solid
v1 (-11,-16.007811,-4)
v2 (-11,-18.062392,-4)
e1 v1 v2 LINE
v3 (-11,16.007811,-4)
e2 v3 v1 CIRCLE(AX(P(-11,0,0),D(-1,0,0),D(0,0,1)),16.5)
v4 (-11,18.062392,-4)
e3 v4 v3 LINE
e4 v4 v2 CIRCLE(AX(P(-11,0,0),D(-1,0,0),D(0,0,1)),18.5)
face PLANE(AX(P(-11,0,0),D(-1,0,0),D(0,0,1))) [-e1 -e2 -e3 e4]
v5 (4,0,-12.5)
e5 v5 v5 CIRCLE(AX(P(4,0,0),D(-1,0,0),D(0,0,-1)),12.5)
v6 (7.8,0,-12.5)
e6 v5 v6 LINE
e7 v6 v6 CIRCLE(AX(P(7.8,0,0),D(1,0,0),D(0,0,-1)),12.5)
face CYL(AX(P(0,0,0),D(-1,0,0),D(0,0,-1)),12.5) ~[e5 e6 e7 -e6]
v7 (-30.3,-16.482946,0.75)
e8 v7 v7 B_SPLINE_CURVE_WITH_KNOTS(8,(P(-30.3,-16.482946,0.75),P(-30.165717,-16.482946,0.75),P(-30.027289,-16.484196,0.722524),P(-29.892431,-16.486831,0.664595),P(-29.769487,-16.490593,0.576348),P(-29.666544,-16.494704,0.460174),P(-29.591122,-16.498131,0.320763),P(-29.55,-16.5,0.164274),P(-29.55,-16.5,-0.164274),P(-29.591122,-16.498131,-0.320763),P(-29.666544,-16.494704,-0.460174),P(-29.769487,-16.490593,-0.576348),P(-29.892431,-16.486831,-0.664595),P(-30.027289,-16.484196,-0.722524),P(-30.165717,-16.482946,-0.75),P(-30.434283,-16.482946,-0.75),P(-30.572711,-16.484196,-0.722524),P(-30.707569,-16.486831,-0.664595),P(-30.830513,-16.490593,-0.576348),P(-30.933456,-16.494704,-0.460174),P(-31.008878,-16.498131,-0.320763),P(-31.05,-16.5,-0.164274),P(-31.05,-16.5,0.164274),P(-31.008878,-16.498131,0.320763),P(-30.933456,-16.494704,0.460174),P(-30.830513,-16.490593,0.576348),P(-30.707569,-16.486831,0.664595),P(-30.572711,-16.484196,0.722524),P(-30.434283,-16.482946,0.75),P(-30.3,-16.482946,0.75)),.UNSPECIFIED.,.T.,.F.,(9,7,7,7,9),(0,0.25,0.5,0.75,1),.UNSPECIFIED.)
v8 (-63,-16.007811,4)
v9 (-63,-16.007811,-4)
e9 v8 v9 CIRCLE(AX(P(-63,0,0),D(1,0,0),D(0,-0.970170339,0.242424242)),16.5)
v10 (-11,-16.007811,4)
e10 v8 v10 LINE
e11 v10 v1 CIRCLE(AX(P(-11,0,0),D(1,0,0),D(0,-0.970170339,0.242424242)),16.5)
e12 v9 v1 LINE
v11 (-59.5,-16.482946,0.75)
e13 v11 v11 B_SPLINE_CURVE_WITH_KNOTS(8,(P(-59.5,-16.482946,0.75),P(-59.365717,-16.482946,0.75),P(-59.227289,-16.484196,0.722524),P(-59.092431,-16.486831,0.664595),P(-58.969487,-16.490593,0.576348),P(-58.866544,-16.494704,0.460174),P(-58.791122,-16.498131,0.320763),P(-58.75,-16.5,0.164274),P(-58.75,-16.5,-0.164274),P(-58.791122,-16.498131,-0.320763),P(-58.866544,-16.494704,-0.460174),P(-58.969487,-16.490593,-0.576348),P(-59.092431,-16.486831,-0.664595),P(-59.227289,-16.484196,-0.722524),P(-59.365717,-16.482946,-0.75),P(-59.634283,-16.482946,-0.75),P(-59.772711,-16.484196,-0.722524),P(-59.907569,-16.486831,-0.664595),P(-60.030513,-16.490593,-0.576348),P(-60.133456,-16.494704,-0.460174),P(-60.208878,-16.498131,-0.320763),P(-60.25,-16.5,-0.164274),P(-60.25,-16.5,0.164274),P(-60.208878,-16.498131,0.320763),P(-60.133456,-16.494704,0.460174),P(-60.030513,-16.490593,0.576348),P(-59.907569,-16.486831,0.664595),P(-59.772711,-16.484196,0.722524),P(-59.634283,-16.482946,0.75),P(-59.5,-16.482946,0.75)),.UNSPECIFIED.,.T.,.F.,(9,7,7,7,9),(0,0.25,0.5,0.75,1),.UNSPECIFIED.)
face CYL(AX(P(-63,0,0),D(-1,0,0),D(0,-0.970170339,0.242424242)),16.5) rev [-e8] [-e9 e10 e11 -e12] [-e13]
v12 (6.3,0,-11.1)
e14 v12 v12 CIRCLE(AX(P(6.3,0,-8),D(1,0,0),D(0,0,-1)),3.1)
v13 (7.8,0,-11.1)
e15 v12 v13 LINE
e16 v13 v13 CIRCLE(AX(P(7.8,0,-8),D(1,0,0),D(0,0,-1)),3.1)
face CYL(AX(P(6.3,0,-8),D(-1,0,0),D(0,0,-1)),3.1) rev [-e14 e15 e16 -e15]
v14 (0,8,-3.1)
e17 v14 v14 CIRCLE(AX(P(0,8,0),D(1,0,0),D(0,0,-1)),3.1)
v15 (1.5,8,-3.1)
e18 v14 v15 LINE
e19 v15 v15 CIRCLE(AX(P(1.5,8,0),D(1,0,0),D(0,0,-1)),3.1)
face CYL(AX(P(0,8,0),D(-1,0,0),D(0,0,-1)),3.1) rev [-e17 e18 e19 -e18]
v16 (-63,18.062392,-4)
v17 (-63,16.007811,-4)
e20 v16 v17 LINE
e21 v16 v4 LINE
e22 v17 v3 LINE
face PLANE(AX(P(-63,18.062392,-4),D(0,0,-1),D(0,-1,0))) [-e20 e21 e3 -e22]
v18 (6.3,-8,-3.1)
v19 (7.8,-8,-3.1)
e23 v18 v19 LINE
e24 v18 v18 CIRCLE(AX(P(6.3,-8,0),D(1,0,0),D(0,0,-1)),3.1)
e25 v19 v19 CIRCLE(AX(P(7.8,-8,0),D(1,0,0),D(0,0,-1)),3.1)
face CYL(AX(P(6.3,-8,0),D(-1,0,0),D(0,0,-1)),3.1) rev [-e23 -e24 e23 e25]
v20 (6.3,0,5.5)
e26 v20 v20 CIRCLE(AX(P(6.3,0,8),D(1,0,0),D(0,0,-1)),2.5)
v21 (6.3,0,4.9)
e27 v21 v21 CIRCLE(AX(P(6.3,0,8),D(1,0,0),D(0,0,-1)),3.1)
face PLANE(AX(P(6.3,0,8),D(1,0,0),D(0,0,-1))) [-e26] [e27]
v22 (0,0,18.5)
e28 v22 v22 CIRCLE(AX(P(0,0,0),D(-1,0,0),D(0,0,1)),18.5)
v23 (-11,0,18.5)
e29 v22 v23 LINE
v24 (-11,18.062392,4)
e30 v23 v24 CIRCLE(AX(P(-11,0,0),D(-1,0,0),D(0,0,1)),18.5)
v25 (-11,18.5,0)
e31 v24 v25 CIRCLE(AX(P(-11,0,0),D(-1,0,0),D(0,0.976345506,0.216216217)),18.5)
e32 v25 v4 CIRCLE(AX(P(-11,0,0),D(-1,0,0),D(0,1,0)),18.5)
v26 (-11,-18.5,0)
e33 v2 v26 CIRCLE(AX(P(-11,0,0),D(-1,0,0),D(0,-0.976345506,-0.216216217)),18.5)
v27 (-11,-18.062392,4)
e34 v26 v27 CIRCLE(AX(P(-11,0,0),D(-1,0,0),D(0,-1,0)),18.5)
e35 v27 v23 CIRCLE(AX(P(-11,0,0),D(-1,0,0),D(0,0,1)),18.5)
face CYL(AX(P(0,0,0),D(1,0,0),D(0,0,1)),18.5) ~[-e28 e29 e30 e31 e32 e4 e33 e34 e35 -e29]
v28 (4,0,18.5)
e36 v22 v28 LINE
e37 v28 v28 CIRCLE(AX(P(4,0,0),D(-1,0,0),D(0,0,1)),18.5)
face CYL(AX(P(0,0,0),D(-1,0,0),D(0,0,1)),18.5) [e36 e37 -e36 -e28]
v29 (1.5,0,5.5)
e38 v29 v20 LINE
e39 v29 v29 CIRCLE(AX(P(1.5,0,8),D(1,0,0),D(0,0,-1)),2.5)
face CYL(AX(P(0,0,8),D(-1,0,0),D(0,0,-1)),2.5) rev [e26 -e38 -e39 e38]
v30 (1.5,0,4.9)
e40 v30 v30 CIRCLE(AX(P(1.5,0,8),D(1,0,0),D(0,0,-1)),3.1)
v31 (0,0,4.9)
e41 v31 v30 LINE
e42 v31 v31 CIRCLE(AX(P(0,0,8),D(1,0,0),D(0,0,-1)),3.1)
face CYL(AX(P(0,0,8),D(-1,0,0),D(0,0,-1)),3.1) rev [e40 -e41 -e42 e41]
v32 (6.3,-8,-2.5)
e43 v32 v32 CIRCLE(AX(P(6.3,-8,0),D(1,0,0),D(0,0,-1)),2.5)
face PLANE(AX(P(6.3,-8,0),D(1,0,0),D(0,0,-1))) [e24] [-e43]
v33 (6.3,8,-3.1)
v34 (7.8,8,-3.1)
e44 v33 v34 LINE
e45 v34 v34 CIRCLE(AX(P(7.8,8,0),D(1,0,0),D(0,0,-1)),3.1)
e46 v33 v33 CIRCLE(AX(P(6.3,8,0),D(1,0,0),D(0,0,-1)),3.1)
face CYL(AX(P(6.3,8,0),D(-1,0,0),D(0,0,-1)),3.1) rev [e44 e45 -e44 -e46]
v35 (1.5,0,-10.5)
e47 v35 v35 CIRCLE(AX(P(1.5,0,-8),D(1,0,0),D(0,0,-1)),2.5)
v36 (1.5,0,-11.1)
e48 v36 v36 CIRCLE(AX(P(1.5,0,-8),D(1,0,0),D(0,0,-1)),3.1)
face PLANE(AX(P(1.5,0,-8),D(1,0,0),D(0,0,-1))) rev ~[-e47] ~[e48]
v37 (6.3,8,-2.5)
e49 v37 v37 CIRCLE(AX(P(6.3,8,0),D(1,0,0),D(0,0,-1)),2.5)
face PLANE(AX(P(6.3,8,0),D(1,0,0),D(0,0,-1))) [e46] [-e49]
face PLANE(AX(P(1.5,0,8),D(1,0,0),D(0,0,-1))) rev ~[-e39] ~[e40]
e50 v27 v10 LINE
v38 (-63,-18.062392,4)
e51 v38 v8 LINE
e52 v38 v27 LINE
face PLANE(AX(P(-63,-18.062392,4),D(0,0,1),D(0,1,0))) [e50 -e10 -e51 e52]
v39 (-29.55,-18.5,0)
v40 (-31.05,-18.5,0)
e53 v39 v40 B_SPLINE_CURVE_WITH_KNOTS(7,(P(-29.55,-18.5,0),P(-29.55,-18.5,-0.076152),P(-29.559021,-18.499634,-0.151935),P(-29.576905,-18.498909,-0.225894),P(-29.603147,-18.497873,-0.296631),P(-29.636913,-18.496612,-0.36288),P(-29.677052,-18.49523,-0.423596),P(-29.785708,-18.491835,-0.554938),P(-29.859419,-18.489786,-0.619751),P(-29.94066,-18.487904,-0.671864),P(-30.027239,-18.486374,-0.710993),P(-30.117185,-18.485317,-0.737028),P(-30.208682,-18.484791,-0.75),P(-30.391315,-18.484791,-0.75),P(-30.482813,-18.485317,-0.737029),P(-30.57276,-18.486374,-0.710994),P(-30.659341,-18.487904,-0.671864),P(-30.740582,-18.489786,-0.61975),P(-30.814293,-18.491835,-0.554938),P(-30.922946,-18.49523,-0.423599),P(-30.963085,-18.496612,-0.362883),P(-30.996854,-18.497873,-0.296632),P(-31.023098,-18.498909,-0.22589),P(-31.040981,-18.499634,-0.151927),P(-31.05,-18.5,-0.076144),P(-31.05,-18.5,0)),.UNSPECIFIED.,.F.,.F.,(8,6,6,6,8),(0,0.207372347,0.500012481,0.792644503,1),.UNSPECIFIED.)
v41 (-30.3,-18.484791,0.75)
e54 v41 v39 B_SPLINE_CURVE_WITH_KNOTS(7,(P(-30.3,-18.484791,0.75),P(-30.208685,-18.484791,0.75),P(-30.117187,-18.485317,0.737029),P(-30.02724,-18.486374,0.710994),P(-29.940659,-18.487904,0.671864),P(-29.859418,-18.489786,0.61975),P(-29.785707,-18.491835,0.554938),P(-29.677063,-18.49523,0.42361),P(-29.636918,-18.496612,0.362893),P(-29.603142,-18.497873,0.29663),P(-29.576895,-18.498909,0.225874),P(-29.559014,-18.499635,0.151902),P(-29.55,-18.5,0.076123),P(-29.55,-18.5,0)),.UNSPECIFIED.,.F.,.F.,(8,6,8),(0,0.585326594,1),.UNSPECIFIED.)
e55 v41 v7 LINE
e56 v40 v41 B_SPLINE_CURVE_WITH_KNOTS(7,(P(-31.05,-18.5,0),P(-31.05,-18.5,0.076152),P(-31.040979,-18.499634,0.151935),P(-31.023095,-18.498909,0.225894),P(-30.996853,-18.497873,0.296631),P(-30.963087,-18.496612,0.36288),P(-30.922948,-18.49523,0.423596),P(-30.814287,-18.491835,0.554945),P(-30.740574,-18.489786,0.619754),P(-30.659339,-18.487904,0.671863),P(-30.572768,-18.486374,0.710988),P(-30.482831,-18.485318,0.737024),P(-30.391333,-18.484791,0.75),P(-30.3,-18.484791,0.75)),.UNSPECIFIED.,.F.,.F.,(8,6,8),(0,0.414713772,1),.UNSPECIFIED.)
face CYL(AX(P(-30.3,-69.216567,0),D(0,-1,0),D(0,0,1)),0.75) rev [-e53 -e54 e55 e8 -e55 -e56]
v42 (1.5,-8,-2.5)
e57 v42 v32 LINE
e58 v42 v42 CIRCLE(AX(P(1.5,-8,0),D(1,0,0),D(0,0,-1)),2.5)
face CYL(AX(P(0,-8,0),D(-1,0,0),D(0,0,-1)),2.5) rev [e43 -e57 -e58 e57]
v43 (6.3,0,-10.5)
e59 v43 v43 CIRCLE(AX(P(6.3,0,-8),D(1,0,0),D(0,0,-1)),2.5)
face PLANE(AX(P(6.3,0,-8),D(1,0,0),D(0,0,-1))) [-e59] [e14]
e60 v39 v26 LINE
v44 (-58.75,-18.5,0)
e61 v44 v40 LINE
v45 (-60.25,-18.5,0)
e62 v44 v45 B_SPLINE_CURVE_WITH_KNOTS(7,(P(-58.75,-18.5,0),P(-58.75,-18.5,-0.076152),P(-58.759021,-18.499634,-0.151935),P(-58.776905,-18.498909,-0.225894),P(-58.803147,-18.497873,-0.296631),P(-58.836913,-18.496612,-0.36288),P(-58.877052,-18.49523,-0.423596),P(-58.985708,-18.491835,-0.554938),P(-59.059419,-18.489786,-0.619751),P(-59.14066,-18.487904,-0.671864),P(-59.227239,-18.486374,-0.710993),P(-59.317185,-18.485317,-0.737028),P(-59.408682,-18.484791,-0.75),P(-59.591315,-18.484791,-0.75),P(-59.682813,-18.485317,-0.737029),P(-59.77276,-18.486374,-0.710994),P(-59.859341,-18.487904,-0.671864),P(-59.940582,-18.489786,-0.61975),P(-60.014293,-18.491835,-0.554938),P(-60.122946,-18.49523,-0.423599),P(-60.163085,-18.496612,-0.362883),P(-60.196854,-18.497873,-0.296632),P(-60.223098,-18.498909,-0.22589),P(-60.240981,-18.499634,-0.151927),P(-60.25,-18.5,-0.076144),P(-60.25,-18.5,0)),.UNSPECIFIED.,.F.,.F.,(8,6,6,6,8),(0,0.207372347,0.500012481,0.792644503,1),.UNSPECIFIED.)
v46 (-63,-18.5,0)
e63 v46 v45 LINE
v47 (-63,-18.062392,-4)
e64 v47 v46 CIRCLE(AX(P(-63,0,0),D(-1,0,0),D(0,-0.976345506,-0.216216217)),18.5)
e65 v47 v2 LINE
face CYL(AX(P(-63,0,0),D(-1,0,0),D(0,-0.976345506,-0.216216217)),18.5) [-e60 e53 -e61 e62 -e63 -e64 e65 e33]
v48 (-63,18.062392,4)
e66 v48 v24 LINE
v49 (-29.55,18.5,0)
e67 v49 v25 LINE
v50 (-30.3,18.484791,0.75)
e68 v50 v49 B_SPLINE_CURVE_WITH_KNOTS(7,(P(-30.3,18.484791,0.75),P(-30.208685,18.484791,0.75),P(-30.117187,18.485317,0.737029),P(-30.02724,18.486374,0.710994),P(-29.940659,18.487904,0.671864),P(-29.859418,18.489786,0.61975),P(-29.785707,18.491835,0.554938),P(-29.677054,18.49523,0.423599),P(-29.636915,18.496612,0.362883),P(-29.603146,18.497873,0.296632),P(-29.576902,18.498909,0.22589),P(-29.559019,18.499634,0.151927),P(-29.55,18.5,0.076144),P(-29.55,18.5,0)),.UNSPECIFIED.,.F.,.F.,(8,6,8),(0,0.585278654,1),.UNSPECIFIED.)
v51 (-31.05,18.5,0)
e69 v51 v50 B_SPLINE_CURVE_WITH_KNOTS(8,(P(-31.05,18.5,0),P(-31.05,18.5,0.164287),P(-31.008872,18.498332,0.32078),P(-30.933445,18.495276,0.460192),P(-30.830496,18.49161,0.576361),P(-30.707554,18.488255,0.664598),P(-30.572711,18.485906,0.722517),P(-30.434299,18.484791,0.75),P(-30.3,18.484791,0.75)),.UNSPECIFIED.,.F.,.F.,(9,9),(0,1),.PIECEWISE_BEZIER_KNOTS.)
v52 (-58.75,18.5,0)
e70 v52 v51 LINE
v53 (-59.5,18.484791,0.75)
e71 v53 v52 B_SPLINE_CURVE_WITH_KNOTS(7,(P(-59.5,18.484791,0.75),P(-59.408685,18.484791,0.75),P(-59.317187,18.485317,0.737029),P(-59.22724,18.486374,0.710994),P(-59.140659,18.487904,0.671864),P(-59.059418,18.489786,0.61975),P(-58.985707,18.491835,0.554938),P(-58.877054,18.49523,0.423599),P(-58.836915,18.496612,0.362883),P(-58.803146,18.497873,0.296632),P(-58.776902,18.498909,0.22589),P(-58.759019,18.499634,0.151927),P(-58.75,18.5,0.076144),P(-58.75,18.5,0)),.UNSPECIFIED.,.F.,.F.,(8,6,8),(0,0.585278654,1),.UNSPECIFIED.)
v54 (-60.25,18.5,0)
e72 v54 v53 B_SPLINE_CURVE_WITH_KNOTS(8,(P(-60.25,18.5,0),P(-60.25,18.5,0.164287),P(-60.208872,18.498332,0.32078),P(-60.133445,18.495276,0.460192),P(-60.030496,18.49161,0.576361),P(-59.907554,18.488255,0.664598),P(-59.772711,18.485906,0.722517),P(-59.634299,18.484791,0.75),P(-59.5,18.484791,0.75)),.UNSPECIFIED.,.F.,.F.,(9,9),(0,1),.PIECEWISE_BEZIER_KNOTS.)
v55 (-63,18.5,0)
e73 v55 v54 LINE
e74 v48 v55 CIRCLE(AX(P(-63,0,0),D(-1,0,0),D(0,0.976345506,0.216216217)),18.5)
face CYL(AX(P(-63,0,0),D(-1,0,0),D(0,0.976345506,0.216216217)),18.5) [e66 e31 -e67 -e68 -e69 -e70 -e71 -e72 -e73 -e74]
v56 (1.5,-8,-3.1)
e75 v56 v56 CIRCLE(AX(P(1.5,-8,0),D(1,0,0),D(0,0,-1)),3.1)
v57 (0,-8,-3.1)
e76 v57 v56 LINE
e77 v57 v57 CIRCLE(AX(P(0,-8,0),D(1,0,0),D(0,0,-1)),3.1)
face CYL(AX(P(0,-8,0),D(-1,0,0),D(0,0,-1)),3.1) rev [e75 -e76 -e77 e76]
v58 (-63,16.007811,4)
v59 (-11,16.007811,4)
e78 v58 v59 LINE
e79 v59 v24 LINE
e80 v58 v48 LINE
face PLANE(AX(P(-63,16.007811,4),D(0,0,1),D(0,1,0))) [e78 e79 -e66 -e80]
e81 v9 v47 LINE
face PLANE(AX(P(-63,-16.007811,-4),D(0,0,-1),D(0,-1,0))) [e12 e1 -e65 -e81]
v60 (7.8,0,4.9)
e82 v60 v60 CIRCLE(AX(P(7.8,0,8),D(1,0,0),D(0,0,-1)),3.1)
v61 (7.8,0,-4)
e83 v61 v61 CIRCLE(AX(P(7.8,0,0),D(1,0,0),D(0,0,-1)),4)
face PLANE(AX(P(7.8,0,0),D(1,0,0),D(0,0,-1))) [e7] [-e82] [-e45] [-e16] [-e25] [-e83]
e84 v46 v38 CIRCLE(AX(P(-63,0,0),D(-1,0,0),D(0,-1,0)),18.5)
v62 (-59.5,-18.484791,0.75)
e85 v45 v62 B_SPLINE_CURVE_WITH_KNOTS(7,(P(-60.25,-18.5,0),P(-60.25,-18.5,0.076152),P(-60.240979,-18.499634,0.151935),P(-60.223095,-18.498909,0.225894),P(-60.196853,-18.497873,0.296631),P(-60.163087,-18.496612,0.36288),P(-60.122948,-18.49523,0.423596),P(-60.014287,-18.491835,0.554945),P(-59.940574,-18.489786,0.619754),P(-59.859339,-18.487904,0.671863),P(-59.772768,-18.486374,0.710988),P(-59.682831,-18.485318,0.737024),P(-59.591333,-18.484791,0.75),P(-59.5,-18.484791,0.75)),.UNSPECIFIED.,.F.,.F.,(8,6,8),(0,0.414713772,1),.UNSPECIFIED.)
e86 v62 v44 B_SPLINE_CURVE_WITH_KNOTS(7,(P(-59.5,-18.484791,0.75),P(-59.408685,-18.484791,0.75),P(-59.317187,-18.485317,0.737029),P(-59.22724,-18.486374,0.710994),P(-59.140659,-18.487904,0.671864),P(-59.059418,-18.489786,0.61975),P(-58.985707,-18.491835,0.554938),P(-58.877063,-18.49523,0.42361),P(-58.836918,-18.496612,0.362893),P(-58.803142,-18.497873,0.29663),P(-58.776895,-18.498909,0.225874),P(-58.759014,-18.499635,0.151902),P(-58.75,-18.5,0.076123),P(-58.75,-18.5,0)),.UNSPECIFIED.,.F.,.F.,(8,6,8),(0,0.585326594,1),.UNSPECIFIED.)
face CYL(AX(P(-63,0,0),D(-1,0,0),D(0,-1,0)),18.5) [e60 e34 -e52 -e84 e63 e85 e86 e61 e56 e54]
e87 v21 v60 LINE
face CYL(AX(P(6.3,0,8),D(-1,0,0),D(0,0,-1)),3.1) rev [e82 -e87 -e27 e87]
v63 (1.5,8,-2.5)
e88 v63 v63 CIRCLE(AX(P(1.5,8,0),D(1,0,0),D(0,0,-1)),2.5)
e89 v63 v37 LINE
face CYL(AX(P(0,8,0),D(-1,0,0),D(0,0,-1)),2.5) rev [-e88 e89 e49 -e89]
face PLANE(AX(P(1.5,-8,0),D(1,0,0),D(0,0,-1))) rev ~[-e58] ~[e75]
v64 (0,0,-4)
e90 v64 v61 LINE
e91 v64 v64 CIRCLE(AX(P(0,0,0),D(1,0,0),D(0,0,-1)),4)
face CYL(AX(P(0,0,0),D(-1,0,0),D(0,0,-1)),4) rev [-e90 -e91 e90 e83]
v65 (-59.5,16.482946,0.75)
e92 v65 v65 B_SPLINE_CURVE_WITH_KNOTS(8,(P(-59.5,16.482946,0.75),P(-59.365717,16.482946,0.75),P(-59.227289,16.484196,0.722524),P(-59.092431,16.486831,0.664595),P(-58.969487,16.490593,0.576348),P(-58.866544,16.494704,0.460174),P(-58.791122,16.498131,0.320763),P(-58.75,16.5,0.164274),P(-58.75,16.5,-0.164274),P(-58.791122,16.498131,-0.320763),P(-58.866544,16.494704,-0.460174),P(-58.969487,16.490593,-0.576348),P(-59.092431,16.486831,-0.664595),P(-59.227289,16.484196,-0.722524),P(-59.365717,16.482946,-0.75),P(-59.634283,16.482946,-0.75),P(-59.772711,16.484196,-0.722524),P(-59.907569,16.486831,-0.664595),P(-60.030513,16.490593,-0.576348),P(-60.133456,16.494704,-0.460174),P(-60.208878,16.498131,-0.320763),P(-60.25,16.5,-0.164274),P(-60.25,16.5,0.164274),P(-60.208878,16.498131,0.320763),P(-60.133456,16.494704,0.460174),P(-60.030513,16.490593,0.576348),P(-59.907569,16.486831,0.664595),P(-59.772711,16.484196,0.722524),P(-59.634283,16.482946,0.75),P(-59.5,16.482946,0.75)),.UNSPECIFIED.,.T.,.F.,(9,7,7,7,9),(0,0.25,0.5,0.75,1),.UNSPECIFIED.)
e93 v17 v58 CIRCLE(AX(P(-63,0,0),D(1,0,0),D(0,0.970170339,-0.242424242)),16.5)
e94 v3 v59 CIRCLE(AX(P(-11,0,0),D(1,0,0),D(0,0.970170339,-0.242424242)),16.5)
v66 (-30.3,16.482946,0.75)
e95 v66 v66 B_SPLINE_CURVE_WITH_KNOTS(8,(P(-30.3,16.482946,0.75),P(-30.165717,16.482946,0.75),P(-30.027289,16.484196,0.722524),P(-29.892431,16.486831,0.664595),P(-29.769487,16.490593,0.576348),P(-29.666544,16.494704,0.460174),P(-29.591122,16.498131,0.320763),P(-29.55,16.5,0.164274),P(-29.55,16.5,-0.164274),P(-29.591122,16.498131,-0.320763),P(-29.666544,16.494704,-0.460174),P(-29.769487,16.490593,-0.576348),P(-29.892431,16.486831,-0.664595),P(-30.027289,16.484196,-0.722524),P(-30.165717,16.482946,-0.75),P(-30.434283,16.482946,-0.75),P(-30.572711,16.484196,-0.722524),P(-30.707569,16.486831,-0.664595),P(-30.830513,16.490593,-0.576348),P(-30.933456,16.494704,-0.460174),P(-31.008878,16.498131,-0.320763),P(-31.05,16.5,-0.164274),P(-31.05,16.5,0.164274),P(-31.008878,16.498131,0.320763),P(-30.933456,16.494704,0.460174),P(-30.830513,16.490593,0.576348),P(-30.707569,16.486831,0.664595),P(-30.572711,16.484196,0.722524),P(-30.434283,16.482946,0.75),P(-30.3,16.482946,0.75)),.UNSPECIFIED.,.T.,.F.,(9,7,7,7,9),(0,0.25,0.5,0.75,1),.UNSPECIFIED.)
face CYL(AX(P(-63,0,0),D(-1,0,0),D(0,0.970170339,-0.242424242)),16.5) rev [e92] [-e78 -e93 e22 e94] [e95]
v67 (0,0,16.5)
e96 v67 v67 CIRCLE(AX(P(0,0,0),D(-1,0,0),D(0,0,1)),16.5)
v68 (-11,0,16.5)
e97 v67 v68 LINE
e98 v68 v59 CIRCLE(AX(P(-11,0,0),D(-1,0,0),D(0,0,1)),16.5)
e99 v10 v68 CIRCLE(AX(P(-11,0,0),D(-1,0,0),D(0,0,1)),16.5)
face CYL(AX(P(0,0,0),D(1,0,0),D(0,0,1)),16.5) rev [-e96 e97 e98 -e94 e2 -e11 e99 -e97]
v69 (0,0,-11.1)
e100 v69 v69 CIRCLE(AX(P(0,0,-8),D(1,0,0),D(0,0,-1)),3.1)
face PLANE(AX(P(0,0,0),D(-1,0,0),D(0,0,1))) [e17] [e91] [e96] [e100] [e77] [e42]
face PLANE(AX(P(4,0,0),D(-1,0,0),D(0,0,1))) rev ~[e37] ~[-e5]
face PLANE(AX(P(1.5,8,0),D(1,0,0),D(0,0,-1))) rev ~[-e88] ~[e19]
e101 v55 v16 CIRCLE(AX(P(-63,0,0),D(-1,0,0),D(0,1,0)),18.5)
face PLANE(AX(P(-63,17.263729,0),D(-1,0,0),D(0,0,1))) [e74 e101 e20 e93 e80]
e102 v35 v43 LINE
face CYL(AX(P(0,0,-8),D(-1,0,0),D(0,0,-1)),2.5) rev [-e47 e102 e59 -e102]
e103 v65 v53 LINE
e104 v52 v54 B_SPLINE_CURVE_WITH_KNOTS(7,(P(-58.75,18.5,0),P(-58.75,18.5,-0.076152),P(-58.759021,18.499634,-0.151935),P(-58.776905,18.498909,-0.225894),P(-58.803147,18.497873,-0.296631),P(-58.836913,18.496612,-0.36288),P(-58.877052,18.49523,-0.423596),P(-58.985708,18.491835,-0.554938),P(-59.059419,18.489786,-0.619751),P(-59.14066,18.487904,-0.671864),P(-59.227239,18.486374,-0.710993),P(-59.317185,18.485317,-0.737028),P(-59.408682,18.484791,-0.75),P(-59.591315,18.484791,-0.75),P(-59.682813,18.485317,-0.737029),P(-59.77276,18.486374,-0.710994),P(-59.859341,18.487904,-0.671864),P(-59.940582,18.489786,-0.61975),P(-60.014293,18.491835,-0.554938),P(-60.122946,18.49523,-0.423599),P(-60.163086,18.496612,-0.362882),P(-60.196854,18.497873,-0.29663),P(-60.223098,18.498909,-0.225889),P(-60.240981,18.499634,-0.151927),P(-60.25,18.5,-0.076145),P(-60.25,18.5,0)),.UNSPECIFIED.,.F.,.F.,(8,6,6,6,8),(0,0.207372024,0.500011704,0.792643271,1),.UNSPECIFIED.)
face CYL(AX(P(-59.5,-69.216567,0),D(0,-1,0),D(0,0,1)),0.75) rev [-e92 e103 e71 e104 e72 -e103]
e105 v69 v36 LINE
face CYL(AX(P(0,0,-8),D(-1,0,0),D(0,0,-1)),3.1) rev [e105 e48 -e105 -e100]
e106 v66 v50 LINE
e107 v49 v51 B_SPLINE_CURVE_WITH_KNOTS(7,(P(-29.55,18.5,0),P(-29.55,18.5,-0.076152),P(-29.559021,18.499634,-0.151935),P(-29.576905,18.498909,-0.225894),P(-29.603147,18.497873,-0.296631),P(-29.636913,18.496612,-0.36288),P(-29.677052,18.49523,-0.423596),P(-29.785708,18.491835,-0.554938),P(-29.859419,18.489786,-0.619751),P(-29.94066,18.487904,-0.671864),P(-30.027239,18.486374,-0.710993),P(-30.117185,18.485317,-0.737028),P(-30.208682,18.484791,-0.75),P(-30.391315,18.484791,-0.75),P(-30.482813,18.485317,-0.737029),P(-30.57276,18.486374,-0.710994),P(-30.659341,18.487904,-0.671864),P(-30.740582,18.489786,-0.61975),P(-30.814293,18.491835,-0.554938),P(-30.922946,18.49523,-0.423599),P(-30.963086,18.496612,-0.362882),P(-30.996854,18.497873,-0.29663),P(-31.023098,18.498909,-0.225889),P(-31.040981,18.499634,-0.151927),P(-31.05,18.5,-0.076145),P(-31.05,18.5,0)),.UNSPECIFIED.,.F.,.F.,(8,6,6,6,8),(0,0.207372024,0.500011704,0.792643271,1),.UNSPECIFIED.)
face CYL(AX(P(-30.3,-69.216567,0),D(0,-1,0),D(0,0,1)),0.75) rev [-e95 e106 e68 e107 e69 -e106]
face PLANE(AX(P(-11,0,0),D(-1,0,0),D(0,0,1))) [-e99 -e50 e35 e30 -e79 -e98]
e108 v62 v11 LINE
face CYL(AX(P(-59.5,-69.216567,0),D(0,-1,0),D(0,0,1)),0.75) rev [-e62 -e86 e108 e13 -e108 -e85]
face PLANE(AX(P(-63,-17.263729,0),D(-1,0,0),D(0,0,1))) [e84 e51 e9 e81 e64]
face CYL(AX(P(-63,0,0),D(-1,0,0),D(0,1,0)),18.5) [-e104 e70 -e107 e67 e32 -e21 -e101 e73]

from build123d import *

# Parameters (mm, degrees)
SKETCH_1_R               = 12.5
SKETCH_1_R_2             = 4
SKETCH_1_R_3             = 2.5
EXTRUDE_1_DEPTH          = 7.8
SKETCH_1_3_R             = 3.1
SKETCH_1_3_R_2           = 2.5
CUT_EXTRUDE_1_DEPTH      = 1.5
CUT_EXTRUDE_START        = 6.3
SKETCH_1_4_R             = 3.1
SKETCH_1_4_R_2           = 2.5
CUT_EXTRUDE_2_DEPTH      = 1.5
SKETCH_2_R               = 18.5
SKETCH_2_R_2             = 12.5
EXTRUDE_2_DEPTH          = 4
SKETCH_2_3_R             = 18.5
SKETCH_2_3_R_2           = 16.5
EXTRUDE_3_DEPTH          = 11
EXTRUDE_START            = 63
EXTRUDE_4_DEPTH          = 52
CUT_EXTRUDE_3_DEPTH      = 69.216566903
CUT_EXTRUDE_3_DEPTH_BACK = 69.216566903
SKETCH_5_R               = 0.75


with BuildPart() as part:
    # 草图1 → 凸台-拉伸1 (new body)
    with BuildSketch(Plane(origin=(0, 0, 0), x_dir=(0, 0, -1), z_dir=(1, 0, 0))):
        Circle(SKETCH_1_R)
        Circle(SKETCH_1_R_2, mode=Mode.SUBTRACT)
        with Locations((0, 8)):
            Circle(SKETCH_1_R_3, mode=Mode.SUBTRACT)
        with Locations((8, 0)):
            Circle(SKETCH_1_R_3, mode=Mode.SUBTRACT)
        with Locations((0, -8)):
            Circle(SKETCH_1_R_3, mode=Mode.SUBTRACT)
        with Locations((-8, 0)):
            Circle(SKETCH_1_R_3, mode=Mode.SUBTRACT)
    extrude(amount=EXTRUDE_1_DEPTH)

    # 草图1<3> → 切除-拉伸1 (cut)
    # profile 1 of 4: a face of its own
    with BuildSketch(Plane(origin=(0, 0, 0), x_dir=(0, 0, -1), z_dir=(1, 0, 0))):
        with Locations((0, 8)):
            Circle(SKETCH_1_3_R)
        with Locations((0, 8)):
            Circle(SKETCH_1_3_R_2, mode=Mode.SUBTRACT)
    # profile 2 of 4: a face of its own
    with BuildSketch(Plane(origin=(0, 0, 0), x_dir=(0, 0, -1), z_dir=(1, 0, 0))):
        with Locations((8, 0)):
            Circle(SKETCH_1_3_R)
        with Locations((8, 0)):
            Circle(SKETCH_1_3_R_2, mode=Mode.SUBTRACT)
    # profile 3 of 4: a face of its own
    with BuildSketch(Plane(origin=(0, 0, 0), x_dir=(0, 0, -1), z_dir=(1, 0, 0))):
        with Locations((0, -8)):
            Circle(SKETCH_1_3_R)
        with Locations((0, -8)):
            Circle(SKETCH_1_3_R_2, mode=Mode.SUBTRACT)
    # profile 4 of 4: a face of its own
    with BuildSketch(Plane(origin=(0, 0, 0), x_dir=(0, 0, -1), z_dir=(1, 0, 0))):
        with Locations((-8, 0)):
            Circle(SKETCH_1_3_R)
        with Locations((-8, 0)):
            Circle(SKETCH_1_3_R_2, mode=Mode.SUBTRACT)
    extrude(amount=CUT_EXTRUDE_1_DEPTH, mode=Mode.SUBTRACT)

    # 草图1<4> → 切除-拉伸2 (cut)
    # profile 1 of 4: a face of its own
    with BuildSketch(Plane(origin=(0, 0, 0), x_dir=(0, 0, -1), z_dir=(1, 0, 0)).offset(CUT_EXTRUDE_START)):
        with Locations((0, 8)):
            Circle(SKETCH_1_4_R)
        with Locations((0, 8)):
            Circle(SKETCH_1_4_R_2, mode=Mode.SUBTRACT)
    # profile 2 of 4: a face of its own
    with BuildSketch(Plane(origin=(0, 0, 0), x_dir=(0, 0, -1), z_dir=(1, 0, 0)).offset(CUT_EXTRUDE_START)):
        with Locations((8, 0)):
            Circle(SKETCH_1_4_R)
        with Locations((8, 0)):
            Circle(SKETCH_1_4_R_2, mode=Mode.SUBTRACT)
    # profile 3 of 4: a face of its own
    with BuildSketch(Plane(origin=(0, 0, 0), x_dir=(0, 0, -1), z_dir=(1, 0, 0)).offset(CUT_EXTRUDE_START)):
        with Locations((0, -8)):
            Circle(SKETCH_1_4_R)
        with Locations((0, -8)):
            Circle(SKETCH_1_4_R_2, mode=Mode.SUBTRACT)
    # profile 4 of 4: a face of its own
    with BuildSketch(Plane(origin=(0, 0, 0), x_dir=(0, 0, -1), z_dir=(1, 0, 0)).offset(CUT_EXTRUDE_START)):
        with Locations((-8, 0)):
            Circle(SKETCH_1_4_R)
        with Locations((-8, 0)):
            Circle(SKETCH_1_4_R_2, mode=Mode.SUBTRACT)
    extrude(amount=CUT_EXTRUDE_2_DEPTH, mode=Mode.SUBTRACT)



with BuildPart() as body_2:
    # 草图2 → 凸台-拉伸2 (new body)
    with BuildSketch(Plane.ZY):
        Circle(SKETCH_2_R)
        with Locations(Location((0, 0, 0), (0, 0, 180))):
            Circle(SKETCH_2_R_2, mode=Mode.SUBTRACT)
    extrude(amount=-EXTRUDE_2_DEPTH)


with BuildPart() as part_1:
    add(part.part)

    add(body_2.part)  # 凸台-拉伸3 merges body 2
    # 草图2<3> → 凸台-拉伸3 (add)
    with BuildSketch(Plane.ZY):
        Circle(SKETCH_2_3_R)
        Circle(SKETCH_2_3_R_2, mode=Mode.SUBTRACT)
    extrude(amount=EXTRUDE_3_DEPTH)

    # 草图2<4> → 凸台-拉伸4 (add)
    with BuildSketch(Plane.ZY.offset(EXTRUDE_START)):
        with BuildLine():
            ThreePointArc((-4, -18.062391868), (-2.011933204, -18.390272559), (0, -18.5))
            ThreePointArc((0, -18.5), (2.011933204, -18.390272559), (4, -18.062391868))
            Line((4, -18.062391868), (4, -16.007810594))
            ThreePointArc((4, -16.007810594), (0, -16.5), (-4, -16.007810594))
            Line((-4, -16.007810594), (-4, -18.062391868))
        make_face()
        with BuildLine():
            ThreePointArc((0, 18.5), (-2.011933204, 18.390272559), (-4, 18.062391868))
            Line((-4, 18.062391868), (-4, 16.007810594))
            ThreePointArc((-4, 16.007810594), (0, 16.5), (4, 16.007810594))
            Line((4, 16.007810594), (4, 18.062391868))
            ThreePointArc((4, 18.062391868), (2.011933204, 18.390272559), (0, 18.5))
        make_face()
    extrude(amount=-EXTRUDE_4_DEPTH)

    # 草图5 → 切除-拉伸3 (cut, two sides: drawn at the far end of the back side and taken through both)
    with BuildSketch(Plane(origin=(0, 0, 0), x_dir=(1, 0, 0), z_dir=(0, 1, 0)).offset(-CUT_EXTRUDE_3_DEPTH_BACK)):
        with Locations(Location((-59.5, 0, 0), (0, 0, 270))):
            Circle(SKETCH_5_R)
        with Locations(Location((-30.3, 0, 0), (0, 0, 270))):
            Circle(SKETCH_5_R)
    extrude(amount=CUT_EXTRUDE_3_DEPTH + CUT_EXTRUDE_3_DEPTH_BACK, mode=Mode.SUBTRACT)


solid = part_1.part
